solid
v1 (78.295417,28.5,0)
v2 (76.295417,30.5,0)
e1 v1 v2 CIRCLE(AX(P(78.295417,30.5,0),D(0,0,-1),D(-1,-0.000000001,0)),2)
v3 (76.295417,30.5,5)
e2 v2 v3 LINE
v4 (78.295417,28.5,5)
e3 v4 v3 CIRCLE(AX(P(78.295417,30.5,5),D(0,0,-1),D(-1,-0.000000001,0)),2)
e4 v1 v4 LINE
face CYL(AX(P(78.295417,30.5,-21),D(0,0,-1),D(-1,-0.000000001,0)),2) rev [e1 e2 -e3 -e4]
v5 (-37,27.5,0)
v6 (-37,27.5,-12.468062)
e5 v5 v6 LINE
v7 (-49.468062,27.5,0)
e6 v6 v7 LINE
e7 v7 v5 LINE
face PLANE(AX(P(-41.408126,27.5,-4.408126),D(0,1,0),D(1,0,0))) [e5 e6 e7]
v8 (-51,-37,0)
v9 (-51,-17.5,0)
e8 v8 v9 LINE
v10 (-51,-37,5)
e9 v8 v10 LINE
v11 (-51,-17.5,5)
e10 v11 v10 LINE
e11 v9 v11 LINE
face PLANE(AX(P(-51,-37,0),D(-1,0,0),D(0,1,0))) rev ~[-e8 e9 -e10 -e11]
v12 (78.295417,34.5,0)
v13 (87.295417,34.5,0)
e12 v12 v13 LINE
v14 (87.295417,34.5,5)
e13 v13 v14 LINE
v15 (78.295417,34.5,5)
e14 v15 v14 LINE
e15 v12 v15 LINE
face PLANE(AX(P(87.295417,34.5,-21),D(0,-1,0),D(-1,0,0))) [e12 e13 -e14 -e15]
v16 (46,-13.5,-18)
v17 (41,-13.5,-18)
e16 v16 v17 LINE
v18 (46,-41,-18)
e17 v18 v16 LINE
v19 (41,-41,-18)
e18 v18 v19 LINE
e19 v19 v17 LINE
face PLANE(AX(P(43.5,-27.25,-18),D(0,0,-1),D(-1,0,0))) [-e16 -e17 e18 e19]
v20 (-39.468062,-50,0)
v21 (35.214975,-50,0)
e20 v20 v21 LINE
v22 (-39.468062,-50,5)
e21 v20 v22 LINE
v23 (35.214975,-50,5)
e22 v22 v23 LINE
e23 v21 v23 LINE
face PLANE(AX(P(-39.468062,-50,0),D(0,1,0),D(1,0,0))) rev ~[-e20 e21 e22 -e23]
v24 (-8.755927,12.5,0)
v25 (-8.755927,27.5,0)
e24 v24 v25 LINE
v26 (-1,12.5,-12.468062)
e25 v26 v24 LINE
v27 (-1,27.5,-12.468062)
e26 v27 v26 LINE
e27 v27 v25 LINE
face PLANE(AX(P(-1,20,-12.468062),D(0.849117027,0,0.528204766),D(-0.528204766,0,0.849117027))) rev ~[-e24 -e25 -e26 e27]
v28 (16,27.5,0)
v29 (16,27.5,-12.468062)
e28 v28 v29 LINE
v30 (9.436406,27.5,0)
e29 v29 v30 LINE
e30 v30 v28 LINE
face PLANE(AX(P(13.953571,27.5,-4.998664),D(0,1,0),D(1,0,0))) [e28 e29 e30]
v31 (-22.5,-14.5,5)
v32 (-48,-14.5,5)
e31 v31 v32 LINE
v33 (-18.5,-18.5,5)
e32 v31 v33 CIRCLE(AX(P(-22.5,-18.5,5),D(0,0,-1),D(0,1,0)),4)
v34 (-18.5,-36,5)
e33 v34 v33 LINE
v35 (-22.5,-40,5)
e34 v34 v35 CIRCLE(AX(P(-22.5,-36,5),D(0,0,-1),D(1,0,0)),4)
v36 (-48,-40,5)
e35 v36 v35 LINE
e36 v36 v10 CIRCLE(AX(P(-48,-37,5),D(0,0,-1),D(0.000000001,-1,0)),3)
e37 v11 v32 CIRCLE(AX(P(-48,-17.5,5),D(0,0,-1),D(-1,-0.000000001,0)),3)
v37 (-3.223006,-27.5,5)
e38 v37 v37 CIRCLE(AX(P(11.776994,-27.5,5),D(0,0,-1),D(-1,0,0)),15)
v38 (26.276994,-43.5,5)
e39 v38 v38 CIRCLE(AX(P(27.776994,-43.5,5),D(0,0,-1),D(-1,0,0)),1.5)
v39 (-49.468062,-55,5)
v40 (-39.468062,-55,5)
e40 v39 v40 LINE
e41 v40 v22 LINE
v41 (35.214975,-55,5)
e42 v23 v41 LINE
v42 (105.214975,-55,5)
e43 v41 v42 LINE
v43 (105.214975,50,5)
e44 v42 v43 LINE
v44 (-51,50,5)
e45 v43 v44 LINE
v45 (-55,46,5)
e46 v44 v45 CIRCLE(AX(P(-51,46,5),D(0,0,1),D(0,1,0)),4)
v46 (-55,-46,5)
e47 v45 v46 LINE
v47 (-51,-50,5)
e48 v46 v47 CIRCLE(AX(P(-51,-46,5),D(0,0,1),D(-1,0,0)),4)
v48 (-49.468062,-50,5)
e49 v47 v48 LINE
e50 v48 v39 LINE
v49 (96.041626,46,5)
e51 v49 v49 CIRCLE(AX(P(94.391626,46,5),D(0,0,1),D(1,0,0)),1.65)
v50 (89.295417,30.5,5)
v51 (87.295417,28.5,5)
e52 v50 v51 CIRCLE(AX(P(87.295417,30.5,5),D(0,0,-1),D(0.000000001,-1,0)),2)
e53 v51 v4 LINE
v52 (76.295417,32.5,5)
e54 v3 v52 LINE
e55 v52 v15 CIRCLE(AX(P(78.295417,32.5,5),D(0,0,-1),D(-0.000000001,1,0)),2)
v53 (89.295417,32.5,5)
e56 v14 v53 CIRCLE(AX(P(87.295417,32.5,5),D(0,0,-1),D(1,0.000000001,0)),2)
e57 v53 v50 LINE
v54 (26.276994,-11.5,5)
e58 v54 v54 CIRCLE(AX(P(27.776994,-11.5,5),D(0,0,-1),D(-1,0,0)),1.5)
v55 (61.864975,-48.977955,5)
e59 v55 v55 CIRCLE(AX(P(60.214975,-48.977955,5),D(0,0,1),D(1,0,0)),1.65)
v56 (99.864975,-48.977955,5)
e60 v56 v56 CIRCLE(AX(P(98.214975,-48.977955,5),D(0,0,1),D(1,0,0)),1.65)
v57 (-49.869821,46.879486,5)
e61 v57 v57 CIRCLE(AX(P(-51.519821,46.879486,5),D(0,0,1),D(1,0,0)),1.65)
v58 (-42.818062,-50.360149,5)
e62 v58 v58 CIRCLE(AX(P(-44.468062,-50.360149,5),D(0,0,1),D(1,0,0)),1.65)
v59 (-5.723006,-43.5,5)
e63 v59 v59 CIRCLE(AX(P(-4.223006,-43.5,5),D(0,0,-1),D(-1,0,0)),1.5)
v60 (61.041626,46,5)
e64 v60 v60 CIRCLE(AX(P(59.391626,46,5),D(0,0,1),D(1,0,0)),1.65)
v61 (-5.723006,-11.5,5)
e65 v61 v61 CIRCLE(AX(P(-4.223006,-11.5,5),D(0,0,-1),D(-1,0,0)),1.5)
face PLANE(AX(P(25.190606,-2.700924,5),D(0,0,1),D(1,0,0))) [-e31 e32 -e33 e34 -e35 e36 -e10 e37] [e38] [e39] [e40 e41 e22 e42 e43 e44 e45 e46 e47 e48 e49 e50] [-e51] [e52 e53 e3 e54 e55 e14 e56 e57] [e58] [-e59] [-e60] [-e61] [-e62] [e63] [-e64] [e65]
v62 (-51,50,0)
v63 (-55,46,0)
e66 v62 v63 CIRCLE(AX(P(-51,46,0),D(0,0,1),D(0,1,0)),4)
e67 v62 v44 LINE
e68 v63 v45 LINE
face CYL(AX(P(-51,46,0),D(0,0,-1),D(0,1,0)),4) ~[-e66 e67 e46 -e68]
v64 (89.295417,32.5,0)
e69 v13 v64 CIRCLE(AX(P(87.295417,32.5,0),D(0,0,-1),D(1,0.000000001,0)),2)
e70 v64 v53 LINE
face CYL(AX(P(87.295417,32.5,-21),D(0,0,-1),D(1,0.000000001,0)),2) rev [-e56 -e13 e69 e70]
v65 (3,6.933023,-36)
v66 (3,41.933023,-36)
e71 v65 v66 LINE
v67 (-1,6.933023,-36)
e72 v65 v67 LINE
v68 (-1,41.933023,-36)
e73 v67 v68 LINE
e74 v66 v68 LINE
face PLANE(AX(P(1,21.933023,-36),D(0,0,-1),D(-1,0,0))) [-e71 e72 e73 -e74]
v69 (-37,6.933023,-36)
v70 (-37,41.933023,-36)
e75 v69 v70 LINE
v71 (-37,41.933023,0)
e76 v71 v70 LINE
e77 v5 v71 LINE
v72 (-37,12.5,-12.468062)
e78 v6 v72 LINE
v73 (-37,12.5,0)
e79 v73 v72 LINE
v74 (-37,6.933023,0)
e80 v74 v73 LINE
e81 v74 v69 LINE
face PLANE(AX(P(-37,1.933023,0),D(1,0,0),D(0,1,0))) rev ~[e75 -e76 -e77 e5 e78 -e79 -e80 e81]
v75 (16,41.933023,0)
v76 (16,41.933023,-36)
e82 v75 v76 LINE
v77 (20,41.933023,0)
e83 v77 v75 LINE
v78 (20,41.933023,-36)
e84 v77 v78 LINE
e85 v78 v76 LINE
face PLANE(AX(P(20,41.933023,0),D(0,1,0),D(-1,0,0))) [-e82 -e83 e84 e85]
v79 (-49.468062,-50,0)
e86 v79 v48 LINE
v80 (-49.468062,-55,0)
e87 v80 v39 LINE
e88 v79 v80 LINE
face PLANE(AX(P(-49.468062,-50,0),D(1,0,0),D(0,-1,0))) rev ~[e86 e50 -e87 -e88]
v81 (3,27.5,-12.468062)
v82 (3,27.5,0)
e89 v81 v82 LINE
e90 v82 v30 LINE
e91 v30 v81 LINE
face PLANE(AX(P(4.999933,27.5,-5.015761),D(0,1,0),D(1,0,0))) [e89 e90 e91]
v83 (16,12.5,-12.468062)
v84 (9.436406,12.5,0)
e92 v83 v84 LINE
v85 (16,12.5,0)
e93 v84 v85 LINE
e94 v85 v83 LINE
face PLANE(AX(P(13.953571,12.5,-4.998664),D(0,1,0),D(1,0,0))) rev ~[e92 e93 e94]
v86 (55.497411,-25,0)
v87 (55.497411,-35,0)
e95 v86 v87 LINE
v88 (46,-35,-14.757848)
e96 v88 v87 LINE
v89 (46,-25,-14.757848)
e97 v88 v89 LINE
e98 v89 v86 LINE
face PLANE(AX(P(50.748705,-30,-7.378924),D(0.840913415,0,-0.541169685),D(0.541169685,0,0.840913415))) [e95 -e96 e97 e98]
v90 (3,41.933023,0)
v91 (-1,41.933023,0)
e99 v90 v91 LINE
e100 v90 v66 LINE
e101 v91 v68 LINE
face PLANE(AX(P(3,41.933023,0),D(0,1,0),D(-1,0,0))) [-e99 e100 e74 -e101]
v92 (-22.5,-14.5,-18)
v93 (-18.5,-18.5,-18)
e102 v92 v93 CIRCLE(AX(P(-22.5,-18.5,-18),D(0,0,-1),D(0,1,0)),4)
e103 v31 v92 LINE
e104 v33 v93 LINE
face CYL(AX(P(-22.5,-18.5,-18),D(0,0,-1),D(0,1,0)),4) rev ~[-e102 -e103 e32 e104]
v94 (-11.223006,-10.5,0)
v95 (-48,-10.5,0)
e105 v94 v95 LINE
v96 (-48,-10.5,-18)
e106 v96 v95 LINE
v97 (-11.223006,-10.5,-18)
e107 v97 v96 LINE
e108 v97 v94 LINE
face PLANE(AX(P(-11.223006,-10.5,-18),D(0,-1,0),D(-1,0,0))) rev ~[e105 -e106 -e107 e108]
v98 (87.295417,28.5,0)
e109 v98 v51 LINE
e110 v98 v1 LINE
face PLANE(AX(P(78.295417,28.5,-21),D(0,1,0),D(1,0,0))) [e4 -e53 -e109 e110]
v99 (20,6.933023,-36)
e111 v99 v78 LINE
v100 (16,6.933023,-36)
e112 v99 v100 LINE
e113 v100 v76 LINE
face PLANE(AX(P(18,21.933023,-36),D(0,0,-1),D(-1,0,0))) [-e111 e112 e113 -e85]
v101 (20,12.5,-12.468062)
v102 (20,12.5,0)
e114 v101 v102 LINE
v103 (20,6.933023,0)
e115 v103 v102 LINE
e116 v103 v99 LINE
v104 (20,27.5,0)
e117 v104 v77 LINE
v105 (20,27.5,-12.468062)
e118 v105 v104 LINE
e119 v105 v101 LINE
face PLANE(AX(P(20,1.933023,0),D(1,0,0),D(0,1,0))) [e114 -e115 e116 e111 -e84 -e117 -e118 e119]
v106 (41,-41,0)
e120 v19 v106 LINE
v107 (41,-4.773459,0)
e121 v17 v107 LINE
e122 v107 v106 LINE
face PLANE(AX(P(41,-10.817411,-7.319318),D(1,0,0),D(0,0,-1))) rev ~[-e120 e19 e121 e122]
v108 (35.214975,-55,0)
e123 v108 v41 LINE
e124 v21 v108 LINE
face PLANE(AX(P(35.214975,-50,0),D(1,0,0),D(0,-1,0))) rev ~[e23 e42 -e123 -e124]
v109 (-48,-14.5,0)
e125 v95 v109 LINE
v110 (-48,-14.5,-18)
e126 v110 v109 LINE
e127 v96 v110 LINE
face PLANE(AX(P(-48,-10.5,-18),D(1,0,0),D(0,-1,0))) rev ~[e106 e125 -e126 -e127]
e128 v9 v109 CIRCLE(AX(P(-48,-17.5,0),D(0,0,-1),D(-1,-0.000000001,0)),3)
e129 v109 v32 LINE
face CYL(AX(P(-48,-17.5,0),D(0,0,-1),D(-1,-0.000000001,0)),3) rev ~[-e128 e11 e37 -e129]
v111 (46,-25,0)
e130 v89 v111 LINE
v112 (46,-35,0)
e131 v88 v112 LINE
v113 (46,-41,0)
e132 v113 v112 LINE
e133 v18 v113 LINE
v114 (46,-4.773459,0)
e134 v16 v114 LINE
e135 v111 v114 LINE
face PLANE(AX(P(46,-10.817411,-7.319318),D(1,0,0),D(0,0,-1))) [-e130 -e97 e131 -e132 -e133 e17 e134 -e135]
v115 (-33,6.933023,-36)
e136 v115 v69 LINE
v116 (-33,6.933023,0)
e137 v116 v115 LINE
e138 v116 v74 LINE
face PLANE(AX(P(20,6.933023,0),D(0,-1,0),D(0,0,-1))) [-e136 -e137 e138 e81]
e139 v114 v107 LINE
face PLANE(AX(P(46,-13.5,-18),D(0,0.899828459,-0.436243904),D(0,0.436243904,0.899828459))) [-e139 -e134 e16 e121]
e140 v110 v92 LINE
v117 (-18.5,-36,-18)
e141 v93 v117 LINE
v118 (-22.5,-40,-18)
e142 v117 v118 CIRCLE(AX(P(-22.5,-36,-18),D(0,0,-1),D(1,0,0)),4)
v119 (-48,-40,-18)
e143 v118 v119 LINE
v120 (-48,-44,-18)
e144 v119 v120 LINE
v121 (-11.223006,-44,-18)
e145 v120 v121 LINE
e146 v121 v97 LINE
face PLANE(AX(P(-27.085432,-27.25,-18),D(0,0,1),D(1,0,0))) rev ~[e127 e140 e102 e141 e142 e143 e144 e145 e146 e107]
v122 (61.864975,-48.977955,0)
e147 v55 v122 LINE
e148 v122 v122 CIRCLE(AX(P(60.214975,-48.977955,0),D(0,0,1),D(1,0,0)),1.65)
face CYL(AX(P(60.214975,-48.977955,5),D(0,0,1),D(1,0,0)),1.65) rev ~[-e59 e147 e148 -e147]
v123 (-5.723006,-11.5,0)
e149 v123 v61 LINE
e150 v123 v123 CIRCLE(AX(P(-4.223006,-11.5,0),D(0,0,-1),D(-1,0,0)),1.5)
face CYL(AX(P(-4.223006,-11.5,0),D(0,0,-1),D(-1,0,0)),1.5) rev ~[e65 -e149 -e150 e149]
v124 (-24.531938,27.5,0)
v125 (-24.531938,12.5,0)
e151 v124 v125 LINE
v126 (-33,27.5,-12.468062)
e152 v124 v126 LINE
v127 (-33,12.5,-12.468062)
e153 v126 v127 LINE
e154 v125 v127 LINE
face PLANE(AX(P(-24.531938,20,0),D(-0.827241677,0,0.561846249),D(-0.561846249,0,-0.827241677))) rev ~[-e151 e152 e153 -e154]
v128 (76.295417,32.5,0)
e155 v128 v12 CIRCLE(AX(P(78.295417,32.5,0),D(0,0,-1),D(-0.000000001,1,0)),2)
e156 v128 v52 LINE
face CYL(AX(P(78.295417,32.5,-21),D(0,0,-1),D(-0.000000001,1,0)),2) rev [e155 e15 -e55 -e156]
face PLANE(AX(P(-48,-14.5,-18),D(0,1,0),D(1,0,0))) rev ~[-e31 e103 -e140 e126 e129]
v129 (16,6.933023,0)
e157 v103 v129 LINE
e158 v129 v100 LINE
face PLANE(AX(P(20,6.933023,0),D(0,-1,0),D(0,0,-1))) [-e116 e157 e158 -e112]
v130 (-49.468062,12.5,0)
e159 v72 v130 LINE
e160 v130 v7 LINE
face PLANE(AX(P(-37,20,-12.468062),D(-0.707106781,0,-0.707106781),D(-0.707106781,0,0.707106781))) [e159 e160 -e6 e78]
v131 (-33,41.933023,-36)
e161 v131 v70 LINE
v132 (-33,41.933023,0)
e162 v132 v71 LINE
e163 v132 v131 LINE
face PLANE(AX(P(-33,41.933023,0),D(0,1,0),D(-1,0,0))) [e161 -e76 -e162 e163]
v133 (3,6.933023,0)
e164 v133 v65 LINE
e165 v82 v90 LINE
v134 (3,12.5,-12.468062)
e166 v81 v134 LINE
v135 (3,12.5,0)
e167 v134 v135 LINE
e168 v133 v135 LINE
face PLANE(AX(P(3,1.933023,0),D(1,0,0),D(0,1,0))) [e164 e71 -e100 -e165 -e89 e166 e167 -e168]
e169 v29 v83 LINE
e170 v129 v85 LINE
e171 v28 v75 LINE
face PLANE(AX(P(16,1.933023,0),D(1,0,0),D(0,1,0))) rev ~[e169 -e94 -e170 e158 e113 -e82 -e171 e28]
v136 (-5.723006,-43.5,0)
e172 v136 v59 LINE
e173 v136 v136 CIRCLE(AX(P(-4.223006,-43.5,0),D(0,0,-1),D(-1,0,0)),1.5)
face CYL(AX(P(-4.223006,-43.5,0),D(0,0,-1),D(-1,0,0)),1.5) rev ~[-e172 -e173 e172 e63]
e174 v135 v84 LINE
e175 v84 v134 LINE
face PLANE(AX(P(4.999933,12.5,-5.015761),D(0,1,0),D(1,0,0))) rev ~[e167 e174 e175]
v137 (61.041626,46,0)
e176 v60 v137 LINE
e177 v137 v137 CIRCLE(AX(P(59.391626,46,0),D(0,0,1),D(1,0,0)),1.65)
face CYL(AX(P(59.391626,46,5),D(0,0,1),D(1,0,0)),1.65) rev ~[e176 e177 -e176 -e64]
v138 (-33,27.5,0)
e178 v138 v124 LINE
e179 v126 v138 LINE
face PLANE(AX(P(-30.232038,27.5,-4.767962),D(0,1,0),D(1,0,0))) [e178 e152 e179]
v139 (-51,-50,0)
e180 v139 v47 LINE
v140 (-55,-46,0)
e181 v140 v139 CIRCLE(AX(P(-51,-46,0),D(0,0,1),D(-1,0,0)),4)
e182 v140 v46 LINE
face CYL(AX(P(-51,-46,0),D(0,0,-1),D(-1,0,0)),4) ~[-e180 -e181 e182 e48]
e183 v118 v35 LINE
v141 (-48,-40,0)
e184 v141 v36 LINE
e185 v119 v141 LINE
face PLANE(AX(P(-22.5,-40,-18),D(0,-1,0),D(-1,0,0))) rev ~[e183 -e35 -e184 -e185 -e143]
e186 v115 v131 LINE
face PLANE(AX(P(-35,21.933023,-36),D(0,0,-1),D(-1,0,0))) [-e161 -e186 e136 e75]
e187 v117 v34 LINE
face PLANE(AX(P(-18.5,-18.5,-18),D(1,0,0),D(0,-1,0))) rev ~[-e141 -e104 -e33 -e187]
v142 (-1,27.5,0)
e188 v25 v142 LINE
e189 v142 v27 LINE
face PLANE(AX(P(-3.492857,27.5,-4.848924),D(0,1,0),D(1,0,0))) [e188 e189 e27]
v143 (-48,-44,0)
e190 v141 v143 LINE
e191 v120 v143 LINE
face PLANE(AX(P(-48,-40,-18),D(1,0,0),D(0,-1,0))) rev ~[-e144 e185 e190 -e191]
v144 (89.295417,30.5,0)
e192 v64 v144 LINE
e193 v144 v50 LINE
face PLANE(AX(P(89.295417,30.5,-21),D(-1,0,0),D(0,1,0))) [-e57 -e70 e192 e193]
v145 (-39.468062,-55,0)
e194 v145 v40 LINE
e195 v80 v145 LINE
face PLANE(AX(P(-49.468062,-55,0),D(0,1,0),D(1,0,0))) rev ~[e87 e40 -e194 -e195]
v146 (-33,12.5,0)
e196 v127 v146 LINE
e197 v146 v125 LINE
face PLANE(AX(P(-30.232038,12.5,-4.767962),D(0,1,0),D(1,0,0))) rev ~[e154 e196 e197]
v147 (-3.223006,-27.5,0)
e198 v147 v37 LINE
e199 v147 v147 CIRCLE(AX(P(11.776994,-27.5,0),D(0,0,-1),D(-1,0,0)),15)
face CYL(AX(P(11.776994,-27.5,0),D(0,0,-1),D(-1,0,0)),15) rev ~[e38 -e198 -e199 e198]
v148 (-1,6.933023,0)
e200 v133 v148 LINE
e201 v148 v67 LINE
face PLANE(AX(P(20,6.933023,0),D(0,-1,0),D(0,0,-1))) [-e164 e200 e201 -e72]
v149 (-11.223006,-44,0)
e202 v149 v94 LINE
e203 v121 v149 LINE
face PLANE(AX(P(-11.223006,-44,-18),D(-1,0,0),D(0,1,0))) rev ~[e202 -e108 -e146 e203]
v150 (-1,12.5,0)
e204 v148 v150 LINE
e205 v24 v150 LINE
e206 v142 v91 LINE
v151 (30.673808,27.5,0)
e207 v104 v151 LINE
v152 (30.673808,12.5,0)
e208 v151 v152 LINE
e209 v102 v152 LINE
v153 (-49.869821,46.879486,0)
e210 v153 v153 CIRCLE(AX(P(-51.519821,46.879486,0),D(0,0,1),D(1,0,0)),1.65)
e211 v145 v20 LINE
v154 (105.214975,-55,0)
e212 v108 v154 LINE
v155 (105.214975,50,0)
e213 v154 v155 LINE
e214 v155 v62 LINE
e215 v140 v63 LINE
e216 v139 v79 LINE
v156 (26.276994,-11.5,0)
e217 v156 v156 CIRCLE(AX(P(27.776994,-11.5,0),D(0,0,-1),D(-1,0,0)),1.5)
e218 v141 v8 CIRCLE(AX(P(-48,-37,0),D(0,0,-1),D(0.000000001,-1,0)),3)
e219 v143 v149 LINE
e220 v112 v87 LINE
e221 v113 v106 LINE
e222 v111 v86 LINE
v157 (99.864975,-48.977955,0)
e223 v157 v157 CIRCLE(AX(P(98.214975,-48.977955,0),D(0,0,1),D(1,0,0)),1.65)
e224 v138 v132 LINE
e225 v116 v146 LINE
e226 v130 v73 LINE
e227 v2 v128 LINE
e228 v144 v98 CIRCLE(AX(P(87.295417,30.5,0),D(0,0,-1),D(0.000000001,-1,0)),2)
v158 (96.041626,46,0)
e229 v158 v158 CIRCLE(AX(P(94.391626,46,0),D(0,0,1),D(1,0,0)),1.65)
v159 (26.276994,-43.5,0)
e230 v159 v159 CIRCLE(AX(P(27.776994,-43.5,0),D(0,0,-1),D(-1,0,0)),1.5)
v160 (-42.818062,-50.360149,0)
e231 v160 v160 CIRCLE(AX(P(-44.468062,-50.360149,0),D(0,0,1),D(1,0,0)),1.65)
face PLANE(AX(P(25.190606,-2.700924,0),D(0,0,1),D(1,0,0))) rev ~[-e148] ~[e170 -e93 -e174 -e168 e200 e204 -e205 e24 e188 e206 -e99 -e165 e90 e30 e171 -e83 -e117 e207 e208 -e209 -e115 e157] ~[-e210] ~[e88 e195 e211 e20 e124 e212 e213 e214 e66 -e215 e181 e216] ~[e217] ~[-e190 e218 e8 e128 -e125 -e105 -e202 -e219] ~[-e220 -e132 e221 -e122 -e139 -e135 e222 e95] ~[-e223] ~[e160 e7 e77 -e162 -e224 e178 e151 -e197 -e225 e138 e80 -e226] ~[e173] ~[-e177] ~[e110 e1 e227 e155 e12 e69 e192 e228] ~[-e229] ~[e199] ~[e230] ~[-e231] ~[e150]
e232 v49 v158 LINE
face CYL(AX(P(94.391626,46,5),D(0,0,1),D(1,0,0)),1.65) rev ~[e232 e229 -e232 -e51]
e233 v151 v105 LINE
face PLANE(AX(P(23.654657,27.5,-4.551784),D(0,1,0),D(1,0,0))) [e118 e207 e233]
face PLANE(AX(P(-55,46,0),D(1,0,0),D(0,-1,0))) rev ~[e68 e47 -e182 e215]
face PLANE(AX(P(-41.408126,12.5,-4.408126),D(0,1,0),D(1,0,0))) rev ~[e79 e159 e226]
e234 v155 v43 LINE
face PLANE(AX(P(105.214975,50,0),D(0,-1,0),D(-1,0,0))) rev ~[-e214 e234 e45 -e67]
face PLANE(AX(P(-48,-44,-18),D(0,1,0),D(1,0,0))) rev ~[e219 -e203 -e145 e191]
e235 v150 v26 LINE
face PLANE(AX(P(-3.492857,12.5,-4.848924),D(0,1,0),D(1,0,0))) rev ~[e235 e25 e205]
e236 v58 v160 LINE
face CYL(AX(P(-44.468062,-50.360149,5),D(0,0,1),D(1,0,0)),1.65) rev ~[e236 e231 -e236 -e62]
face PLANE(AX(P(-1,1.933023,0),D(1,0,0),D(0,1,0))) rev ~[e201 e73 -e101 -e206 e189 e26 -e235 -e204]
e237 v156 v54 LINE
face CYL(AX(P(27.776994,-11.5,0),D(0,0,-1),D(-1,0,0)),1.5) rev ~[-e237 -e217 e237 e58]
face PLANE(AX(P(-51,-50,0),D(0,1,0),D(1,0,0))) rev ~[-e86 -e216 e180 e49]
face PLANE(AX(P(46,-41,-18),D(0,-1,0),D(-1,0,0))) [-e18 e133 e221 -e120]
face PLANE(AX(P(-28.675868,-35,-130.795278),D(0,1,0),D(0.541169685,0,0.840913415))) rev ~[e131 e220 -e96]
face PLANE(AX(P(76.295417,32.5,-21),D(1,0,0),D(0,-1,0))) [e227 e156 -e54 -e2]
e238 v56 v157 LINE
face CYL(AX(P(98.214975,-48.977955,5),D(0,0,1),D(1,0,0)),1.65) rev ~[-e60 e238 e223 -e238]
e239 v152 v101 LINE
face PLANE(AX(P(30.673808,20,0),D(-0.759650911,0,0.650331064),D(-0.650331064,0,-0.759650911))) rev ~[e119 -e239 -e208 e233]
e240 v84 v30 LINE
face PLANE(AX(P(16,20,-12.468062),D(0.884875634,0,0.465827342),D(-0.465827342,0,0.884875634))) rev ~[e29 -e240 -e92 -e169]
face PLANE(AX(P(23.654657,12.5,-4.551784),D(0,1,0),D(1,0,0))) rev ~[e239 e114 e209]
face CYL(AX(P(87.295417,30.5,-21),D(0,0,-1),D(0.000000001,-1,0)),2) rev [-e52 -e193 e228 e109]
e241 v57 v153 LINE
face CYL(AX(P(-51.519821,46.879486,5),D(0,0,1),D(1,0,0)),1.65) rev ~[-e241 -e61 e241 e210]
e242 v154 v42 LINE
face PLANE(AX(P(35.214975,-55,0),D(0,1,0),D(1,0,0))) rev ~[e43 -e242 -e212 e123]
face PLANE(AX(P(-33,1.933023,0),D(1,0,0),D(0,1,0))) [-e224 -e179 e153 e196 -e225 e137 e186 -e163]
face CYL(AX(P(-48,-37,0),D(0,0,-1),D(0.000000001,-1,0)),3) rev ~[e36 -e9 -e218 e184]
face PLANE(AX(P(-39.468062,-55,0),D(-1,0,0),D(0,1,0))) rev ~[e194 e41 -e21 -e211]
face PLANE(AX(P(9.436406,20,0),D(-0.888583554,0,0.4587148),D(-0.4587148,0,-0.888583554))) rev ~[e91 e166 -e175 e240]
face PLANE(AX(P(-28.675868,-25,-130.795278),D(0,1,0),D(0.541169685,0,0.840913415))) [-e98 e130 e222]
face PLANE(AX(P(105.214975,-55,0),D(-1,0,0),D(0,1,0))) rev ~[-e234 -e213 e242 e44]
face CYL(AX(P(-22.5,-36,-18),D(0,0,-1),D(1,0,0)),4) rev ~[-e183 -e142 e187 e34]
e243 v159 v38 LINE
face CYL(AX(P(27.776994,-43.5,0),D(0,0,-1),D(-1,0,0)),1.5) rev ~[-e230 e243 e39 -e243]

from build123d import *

# Parameters (mm, degrees)
EXTRUDE_1_DEPTH          = 5
SKETCH_2_W               = 4
SKETCH_2_H               = 40
EXTRUDE_2_DEPTH          = 36
EXTRUDE_3_DEPTH          = 7.5
CUT_EXTRUDE_2_DEPTH      = 14
EXTRUDE_START            = 18
SKETCH_5_W               = 5
SKETCH_5_H               = 27.5
EXTRUDE_4_DEPTH          = 18
SKETCH_6_R               = 15
SKETCH_6_R_2             = 1.5
CUT_EXTRUDE_3_DEPTH      = 18
CUT_EXTRUDE_4_DEPTH      = 15
CUT_EXTRUDE_4_DEPTH_BACK = 26
SKETCH_9_R               = 1.65
CUT_EXTRUDE_5_DEPTH      = 41
RIB_2_REACH              = 138.99
SKETCH_10_WALL_W         = 293.529278964
SKETCH_10_WALL_H         = 10
EXTRUDE_6_DEPTH          = 5
SKETCH_12_W              = 36
SKETCH_12_H              = 5
CUT_EXTRUDE_6_DEPTH      = 87


with BuildPart() as part:
    # 草图1 → 凸台-拉伸1 (new body)
    with BuildSketch(Plane.XY):
        with BuildLine():
            Line((105.214975384, -55), (105.214975384, 50))
            Line((105.214975384, 50), (-51, 50))
            ThreePointArc((-51, 50), (-53.828427125, 48.828427125), (-55, 46))
            Line((-55, 46), (-55, -46))
            ThreePointArc((-55, -46), (-53.828427125, -48.828427125), (-51, -50))
            Line((-51, -50), (-49.468062182, -50))
            Line((-49.468062182, -50), (-49.468062182, -55))
            Line((-49.468062182, -55), (-39.468062182, -55))
            Line((-39.468062182, -55), (-39.468062182, -50))
            Line((-39.468062182, -50), (35.214975384, -50))
            Line((35.214975384, -50), (35.214975384, -55))
            Line((35.214975384, -55), (105.214975384, -55))
        make_face()
    extrude(amount=EXTRUDE_1_DEPTH)

    # 草图2 → 凸台-拉伸2 (add)
    with BuildSketch(Plane(origin=(0, 0, 0), x_dir=(-1, 0, 0), z_dir=(0, 0, -1))):
        with Locations((35, 21.933022766)):
            Rectangle(SKETCH_2_W, SKETCH_2_H)
        with Locations((-1, 21.933022766)):
            Rectangle(SKETCH_2_W, SKETCH_2_H)
        with Locations((-18, 21.933022766)):
            Rectangle(SKETCH_2_W, SKETCH_2_H)
    extrude(amount=EXTRUDE_2_DEPTH)

    # 草图3 → 凸台-拉伸3 (add, symmetric)
    with BuildSketch(Plane(origin=(0, 20, 0), x_dir=(1, 0, 0), z_dir=(0, 1, 0))):
        Polygon((20, 12.468062182), (20, 0), (30.673808223, 0), align=None)
        Polygon((16, 12.468062182), (9.436406156, 0), (16, 0), align=None)
        Polygon((3, 12.468062182), (3, 0), (9.436406156, 0), align=None)
        Polygon((-1, 12.468062182), (-8.755927232, 0), (-1, 0), align=None)
        Polygon((-33, 12.468062182), (-33, 0), (-24.531937818, 0), align=None)
        Polygon((-37, 12.468062182), (-49.468062182, 0), (-37, 0), align=None)
    extrude(amount=EXTRUDE_3_DEPTH, both=True)

    # 草图4 → 切除-拉伸2 (cut)
    with BuildSketch(Plane(origin=(0, 0, 0), x_dir=(-1, 0, 0), z_dir=(0, 0, -1))):
        with BuildLine():
            Line((18.5, -18.5), (18.5, -36))
            ThreePointArc((18.5, -36), (19.671572875, -38.828427125), (22.5, -40))
            Line((22.5, -40), (48, -40))
            ThreePointArc((48, -40), (50.121320344, -39.121320344), (51, -37))
            Line((51, -37), (51, -17.5))
            ThreePointArc((51, -17.5), (50.121320344, -15.378679656), (48, -14.5))
            Line((48, -14.5), (22.5, -14.5))
            ThreePointArc((22.5, -14.5), (19.671572875, -15.671572875), (18.5, -18.5))
        make_face()
    extrude(amount=-CUT_EXTRUDE_2_DEPTH, mode=Mode.SUBTRACT)

    # 草图5 → 凸台-拉伸4 (add)
    with BuildSketch(Plane(origin=(0, 0, 0), x_dir=(-1, 0, 0), z_dir=(0, 0, -1)).offset(EXTRUDE_START)):
        with Locations((-43.5, -27.25)):
            Rectangle(SKETCH_5_W, SKETCH_5_H)
        with BuildLine():
            Line((18.5, -18.5), (18.5, -36))
            ThreePointArc((18.5, -36), (19.671572875, -38.828427125), (22.5, -40))
            Line((22.5, -40), (48, -40))
            Line((48, -40), (48, -44))
            Line((48, -44), (11.223006292, -44))
            Line((11.223006292, -44), (11.223006292, -41))
            Line((11.223006292, -41), (11.223006292, -13.5))
            Line((11.223006292, -13.5), (11.223006292, -10.5))
            Line((11.223006292, -10.5), (48, -10.5))
            Line((48, -10.5), (48, -14.5))
            Line((48, -14.5), (22.5, -14.5))
            ThreePointArc((22.5, -14.5), (19.671572875, -15.671572875), (18.5, -18.5))
        make_face()
    extrude(amount=-EXTRUDE_4_DEPTH)

    # 草图6 → 切除-拉伸3 (cut)
    with BuildSketch(Plane(origin=(0, 0, 0), x_dir=(-1, 0, 0), z_dir=(0, 0, -1))):
        with Locations((-11.776993708, -27.5)):
            Circle(SKETCH_6_R)
        with Locations((4.223006292, -43.5)):
            Circle(SKETCH_6_R_2)
        with Locations((4.223006292, -11.5)):
            Circle(SKETCH_6_R_2)
        with Locations((-27.776993708, -11.5)):
            Circle(SKETCH_6_R_2)
        with Locations((-27.776993708, -43.5)):
            Circle(SKETCH_6_R_2)
    extrude(amount=-CUT_EXTRUDE_3_DEPTH, mode=Mode.SUBTRACT)

    # 草图7 → 切除-拉伸4 (cut, two sides: drawn at the far end of the back side and taken through both)
    with BuildSketch(Plane.XY.offset(5).offset(-CUT_EXTRUDE_4_DEPTH_BACK)):
        with BuildLine():
            Line((78.295417345, 28.5), (87.295417345, 28.5))
            ThreePointArc((87.295417345, 28.5), (88.709630907, 29.085786438), (89.295417345, 30.5))
            Line((89.295417345, 30.5), (89.295417345, 32.5))
            ThreePointArc((89.295417345, 32.5), (88.709630907, 33.914213562), (87.295417345, 34.5))
            Line((87.295417345, 34.5), (78.295417345, 34.5))
            ThreePointArc((78.295417345, 34.5), (76.881203783, 33.914213562), (76.295417345, 32.5))
            Line((76.295417345, 32.5), (76.295417345, 30.5))
            ThreePointArc((76.295417345, 30.5), (76.881203783, 29.085786438), (78.295417345, 28.5))
        make_face()
    extrude(amount=CUT_EXTRUDE_4_DEPTH + CUT_EXTRUDE_4_DEPTH_BACK, mode=Mode.SUBTRACT)

    # 草图9 → 切除-拉伸5 (cut)
    with BuildSketch(Plane.XY.offset(5)):
        with Locations((-44.468062182, -50.360148647)):
            Circle(SKETCH_9_R)
        with Locations((-51.519821375, 46.879485601)):
            Circle(SKETCH_9_R)
        with Locations((60.214975384, -48.977955399)):
            Circle(SKETCH_9_R)
        with Locations((59.391625653, 46)):
            Circle(SKETCH_9_R)
        with Locations((98.214975384, -48.977955399)):
            Circle(SKETCH_9_R)
        with Locations((94.391625653, 46)):
            Circle(SKETCH_9_R)
    extrude(amount=-CUT_EXTRUDE_5_DEPTH, mode=Mode.SUBTRACT)

    # 草图10 wall → 筋2 (add, up to next)
    with BuildSketch(Plane(origin=(50.748705284, -30, -7.378924001), x_dir=(0.541169685132, 0, 0.840913415218), z_dir=(0.840913415218, 0, -0.541169685132)), mode=Mode.PRIVATE) as rib_2_sk1:
        Rectangle(SKETCH_10_WALL_W, SKETCH_10_WALL_H)
    rib_2_tool1 = extrude(rib_2_sk1.sketch, amount=-RIB_2_REACH, mode=Mode.PRIVATE) - part.part
    add(rib_2_tool1.solids().sort_by_distance((50.748705284, -30, -7.378924001))[0])

    # 草图11 → 凸台-拉伸6 (add)
    with BuildSketch(Plane(origin=(46, 0, 0), x_dir=(0, 0, -1), z_dir=(1, 0, 0))):
        Polygon((18, -13.5), (0, -4.773458624), (0, -13.5), align=None)
    extrude(amount=-EXTRUDE_6_DEPTH)

    # 草图12 → 切除-拉伸6 (cut)
    with BuildSketch(Plane(origin=(20, 0, 0), x_dir=(0, 0, -1), z_dir=(1, 0, 0))):
        with Locations((18, 4.433022766)):
            Rectangle(SKETCH_12_W, SKETCH_12_H)
    extrude(amount=-CUT_EXTRUDE_6_DEPTH, mode=Mode.SUBTRACT)


solid = part.part
